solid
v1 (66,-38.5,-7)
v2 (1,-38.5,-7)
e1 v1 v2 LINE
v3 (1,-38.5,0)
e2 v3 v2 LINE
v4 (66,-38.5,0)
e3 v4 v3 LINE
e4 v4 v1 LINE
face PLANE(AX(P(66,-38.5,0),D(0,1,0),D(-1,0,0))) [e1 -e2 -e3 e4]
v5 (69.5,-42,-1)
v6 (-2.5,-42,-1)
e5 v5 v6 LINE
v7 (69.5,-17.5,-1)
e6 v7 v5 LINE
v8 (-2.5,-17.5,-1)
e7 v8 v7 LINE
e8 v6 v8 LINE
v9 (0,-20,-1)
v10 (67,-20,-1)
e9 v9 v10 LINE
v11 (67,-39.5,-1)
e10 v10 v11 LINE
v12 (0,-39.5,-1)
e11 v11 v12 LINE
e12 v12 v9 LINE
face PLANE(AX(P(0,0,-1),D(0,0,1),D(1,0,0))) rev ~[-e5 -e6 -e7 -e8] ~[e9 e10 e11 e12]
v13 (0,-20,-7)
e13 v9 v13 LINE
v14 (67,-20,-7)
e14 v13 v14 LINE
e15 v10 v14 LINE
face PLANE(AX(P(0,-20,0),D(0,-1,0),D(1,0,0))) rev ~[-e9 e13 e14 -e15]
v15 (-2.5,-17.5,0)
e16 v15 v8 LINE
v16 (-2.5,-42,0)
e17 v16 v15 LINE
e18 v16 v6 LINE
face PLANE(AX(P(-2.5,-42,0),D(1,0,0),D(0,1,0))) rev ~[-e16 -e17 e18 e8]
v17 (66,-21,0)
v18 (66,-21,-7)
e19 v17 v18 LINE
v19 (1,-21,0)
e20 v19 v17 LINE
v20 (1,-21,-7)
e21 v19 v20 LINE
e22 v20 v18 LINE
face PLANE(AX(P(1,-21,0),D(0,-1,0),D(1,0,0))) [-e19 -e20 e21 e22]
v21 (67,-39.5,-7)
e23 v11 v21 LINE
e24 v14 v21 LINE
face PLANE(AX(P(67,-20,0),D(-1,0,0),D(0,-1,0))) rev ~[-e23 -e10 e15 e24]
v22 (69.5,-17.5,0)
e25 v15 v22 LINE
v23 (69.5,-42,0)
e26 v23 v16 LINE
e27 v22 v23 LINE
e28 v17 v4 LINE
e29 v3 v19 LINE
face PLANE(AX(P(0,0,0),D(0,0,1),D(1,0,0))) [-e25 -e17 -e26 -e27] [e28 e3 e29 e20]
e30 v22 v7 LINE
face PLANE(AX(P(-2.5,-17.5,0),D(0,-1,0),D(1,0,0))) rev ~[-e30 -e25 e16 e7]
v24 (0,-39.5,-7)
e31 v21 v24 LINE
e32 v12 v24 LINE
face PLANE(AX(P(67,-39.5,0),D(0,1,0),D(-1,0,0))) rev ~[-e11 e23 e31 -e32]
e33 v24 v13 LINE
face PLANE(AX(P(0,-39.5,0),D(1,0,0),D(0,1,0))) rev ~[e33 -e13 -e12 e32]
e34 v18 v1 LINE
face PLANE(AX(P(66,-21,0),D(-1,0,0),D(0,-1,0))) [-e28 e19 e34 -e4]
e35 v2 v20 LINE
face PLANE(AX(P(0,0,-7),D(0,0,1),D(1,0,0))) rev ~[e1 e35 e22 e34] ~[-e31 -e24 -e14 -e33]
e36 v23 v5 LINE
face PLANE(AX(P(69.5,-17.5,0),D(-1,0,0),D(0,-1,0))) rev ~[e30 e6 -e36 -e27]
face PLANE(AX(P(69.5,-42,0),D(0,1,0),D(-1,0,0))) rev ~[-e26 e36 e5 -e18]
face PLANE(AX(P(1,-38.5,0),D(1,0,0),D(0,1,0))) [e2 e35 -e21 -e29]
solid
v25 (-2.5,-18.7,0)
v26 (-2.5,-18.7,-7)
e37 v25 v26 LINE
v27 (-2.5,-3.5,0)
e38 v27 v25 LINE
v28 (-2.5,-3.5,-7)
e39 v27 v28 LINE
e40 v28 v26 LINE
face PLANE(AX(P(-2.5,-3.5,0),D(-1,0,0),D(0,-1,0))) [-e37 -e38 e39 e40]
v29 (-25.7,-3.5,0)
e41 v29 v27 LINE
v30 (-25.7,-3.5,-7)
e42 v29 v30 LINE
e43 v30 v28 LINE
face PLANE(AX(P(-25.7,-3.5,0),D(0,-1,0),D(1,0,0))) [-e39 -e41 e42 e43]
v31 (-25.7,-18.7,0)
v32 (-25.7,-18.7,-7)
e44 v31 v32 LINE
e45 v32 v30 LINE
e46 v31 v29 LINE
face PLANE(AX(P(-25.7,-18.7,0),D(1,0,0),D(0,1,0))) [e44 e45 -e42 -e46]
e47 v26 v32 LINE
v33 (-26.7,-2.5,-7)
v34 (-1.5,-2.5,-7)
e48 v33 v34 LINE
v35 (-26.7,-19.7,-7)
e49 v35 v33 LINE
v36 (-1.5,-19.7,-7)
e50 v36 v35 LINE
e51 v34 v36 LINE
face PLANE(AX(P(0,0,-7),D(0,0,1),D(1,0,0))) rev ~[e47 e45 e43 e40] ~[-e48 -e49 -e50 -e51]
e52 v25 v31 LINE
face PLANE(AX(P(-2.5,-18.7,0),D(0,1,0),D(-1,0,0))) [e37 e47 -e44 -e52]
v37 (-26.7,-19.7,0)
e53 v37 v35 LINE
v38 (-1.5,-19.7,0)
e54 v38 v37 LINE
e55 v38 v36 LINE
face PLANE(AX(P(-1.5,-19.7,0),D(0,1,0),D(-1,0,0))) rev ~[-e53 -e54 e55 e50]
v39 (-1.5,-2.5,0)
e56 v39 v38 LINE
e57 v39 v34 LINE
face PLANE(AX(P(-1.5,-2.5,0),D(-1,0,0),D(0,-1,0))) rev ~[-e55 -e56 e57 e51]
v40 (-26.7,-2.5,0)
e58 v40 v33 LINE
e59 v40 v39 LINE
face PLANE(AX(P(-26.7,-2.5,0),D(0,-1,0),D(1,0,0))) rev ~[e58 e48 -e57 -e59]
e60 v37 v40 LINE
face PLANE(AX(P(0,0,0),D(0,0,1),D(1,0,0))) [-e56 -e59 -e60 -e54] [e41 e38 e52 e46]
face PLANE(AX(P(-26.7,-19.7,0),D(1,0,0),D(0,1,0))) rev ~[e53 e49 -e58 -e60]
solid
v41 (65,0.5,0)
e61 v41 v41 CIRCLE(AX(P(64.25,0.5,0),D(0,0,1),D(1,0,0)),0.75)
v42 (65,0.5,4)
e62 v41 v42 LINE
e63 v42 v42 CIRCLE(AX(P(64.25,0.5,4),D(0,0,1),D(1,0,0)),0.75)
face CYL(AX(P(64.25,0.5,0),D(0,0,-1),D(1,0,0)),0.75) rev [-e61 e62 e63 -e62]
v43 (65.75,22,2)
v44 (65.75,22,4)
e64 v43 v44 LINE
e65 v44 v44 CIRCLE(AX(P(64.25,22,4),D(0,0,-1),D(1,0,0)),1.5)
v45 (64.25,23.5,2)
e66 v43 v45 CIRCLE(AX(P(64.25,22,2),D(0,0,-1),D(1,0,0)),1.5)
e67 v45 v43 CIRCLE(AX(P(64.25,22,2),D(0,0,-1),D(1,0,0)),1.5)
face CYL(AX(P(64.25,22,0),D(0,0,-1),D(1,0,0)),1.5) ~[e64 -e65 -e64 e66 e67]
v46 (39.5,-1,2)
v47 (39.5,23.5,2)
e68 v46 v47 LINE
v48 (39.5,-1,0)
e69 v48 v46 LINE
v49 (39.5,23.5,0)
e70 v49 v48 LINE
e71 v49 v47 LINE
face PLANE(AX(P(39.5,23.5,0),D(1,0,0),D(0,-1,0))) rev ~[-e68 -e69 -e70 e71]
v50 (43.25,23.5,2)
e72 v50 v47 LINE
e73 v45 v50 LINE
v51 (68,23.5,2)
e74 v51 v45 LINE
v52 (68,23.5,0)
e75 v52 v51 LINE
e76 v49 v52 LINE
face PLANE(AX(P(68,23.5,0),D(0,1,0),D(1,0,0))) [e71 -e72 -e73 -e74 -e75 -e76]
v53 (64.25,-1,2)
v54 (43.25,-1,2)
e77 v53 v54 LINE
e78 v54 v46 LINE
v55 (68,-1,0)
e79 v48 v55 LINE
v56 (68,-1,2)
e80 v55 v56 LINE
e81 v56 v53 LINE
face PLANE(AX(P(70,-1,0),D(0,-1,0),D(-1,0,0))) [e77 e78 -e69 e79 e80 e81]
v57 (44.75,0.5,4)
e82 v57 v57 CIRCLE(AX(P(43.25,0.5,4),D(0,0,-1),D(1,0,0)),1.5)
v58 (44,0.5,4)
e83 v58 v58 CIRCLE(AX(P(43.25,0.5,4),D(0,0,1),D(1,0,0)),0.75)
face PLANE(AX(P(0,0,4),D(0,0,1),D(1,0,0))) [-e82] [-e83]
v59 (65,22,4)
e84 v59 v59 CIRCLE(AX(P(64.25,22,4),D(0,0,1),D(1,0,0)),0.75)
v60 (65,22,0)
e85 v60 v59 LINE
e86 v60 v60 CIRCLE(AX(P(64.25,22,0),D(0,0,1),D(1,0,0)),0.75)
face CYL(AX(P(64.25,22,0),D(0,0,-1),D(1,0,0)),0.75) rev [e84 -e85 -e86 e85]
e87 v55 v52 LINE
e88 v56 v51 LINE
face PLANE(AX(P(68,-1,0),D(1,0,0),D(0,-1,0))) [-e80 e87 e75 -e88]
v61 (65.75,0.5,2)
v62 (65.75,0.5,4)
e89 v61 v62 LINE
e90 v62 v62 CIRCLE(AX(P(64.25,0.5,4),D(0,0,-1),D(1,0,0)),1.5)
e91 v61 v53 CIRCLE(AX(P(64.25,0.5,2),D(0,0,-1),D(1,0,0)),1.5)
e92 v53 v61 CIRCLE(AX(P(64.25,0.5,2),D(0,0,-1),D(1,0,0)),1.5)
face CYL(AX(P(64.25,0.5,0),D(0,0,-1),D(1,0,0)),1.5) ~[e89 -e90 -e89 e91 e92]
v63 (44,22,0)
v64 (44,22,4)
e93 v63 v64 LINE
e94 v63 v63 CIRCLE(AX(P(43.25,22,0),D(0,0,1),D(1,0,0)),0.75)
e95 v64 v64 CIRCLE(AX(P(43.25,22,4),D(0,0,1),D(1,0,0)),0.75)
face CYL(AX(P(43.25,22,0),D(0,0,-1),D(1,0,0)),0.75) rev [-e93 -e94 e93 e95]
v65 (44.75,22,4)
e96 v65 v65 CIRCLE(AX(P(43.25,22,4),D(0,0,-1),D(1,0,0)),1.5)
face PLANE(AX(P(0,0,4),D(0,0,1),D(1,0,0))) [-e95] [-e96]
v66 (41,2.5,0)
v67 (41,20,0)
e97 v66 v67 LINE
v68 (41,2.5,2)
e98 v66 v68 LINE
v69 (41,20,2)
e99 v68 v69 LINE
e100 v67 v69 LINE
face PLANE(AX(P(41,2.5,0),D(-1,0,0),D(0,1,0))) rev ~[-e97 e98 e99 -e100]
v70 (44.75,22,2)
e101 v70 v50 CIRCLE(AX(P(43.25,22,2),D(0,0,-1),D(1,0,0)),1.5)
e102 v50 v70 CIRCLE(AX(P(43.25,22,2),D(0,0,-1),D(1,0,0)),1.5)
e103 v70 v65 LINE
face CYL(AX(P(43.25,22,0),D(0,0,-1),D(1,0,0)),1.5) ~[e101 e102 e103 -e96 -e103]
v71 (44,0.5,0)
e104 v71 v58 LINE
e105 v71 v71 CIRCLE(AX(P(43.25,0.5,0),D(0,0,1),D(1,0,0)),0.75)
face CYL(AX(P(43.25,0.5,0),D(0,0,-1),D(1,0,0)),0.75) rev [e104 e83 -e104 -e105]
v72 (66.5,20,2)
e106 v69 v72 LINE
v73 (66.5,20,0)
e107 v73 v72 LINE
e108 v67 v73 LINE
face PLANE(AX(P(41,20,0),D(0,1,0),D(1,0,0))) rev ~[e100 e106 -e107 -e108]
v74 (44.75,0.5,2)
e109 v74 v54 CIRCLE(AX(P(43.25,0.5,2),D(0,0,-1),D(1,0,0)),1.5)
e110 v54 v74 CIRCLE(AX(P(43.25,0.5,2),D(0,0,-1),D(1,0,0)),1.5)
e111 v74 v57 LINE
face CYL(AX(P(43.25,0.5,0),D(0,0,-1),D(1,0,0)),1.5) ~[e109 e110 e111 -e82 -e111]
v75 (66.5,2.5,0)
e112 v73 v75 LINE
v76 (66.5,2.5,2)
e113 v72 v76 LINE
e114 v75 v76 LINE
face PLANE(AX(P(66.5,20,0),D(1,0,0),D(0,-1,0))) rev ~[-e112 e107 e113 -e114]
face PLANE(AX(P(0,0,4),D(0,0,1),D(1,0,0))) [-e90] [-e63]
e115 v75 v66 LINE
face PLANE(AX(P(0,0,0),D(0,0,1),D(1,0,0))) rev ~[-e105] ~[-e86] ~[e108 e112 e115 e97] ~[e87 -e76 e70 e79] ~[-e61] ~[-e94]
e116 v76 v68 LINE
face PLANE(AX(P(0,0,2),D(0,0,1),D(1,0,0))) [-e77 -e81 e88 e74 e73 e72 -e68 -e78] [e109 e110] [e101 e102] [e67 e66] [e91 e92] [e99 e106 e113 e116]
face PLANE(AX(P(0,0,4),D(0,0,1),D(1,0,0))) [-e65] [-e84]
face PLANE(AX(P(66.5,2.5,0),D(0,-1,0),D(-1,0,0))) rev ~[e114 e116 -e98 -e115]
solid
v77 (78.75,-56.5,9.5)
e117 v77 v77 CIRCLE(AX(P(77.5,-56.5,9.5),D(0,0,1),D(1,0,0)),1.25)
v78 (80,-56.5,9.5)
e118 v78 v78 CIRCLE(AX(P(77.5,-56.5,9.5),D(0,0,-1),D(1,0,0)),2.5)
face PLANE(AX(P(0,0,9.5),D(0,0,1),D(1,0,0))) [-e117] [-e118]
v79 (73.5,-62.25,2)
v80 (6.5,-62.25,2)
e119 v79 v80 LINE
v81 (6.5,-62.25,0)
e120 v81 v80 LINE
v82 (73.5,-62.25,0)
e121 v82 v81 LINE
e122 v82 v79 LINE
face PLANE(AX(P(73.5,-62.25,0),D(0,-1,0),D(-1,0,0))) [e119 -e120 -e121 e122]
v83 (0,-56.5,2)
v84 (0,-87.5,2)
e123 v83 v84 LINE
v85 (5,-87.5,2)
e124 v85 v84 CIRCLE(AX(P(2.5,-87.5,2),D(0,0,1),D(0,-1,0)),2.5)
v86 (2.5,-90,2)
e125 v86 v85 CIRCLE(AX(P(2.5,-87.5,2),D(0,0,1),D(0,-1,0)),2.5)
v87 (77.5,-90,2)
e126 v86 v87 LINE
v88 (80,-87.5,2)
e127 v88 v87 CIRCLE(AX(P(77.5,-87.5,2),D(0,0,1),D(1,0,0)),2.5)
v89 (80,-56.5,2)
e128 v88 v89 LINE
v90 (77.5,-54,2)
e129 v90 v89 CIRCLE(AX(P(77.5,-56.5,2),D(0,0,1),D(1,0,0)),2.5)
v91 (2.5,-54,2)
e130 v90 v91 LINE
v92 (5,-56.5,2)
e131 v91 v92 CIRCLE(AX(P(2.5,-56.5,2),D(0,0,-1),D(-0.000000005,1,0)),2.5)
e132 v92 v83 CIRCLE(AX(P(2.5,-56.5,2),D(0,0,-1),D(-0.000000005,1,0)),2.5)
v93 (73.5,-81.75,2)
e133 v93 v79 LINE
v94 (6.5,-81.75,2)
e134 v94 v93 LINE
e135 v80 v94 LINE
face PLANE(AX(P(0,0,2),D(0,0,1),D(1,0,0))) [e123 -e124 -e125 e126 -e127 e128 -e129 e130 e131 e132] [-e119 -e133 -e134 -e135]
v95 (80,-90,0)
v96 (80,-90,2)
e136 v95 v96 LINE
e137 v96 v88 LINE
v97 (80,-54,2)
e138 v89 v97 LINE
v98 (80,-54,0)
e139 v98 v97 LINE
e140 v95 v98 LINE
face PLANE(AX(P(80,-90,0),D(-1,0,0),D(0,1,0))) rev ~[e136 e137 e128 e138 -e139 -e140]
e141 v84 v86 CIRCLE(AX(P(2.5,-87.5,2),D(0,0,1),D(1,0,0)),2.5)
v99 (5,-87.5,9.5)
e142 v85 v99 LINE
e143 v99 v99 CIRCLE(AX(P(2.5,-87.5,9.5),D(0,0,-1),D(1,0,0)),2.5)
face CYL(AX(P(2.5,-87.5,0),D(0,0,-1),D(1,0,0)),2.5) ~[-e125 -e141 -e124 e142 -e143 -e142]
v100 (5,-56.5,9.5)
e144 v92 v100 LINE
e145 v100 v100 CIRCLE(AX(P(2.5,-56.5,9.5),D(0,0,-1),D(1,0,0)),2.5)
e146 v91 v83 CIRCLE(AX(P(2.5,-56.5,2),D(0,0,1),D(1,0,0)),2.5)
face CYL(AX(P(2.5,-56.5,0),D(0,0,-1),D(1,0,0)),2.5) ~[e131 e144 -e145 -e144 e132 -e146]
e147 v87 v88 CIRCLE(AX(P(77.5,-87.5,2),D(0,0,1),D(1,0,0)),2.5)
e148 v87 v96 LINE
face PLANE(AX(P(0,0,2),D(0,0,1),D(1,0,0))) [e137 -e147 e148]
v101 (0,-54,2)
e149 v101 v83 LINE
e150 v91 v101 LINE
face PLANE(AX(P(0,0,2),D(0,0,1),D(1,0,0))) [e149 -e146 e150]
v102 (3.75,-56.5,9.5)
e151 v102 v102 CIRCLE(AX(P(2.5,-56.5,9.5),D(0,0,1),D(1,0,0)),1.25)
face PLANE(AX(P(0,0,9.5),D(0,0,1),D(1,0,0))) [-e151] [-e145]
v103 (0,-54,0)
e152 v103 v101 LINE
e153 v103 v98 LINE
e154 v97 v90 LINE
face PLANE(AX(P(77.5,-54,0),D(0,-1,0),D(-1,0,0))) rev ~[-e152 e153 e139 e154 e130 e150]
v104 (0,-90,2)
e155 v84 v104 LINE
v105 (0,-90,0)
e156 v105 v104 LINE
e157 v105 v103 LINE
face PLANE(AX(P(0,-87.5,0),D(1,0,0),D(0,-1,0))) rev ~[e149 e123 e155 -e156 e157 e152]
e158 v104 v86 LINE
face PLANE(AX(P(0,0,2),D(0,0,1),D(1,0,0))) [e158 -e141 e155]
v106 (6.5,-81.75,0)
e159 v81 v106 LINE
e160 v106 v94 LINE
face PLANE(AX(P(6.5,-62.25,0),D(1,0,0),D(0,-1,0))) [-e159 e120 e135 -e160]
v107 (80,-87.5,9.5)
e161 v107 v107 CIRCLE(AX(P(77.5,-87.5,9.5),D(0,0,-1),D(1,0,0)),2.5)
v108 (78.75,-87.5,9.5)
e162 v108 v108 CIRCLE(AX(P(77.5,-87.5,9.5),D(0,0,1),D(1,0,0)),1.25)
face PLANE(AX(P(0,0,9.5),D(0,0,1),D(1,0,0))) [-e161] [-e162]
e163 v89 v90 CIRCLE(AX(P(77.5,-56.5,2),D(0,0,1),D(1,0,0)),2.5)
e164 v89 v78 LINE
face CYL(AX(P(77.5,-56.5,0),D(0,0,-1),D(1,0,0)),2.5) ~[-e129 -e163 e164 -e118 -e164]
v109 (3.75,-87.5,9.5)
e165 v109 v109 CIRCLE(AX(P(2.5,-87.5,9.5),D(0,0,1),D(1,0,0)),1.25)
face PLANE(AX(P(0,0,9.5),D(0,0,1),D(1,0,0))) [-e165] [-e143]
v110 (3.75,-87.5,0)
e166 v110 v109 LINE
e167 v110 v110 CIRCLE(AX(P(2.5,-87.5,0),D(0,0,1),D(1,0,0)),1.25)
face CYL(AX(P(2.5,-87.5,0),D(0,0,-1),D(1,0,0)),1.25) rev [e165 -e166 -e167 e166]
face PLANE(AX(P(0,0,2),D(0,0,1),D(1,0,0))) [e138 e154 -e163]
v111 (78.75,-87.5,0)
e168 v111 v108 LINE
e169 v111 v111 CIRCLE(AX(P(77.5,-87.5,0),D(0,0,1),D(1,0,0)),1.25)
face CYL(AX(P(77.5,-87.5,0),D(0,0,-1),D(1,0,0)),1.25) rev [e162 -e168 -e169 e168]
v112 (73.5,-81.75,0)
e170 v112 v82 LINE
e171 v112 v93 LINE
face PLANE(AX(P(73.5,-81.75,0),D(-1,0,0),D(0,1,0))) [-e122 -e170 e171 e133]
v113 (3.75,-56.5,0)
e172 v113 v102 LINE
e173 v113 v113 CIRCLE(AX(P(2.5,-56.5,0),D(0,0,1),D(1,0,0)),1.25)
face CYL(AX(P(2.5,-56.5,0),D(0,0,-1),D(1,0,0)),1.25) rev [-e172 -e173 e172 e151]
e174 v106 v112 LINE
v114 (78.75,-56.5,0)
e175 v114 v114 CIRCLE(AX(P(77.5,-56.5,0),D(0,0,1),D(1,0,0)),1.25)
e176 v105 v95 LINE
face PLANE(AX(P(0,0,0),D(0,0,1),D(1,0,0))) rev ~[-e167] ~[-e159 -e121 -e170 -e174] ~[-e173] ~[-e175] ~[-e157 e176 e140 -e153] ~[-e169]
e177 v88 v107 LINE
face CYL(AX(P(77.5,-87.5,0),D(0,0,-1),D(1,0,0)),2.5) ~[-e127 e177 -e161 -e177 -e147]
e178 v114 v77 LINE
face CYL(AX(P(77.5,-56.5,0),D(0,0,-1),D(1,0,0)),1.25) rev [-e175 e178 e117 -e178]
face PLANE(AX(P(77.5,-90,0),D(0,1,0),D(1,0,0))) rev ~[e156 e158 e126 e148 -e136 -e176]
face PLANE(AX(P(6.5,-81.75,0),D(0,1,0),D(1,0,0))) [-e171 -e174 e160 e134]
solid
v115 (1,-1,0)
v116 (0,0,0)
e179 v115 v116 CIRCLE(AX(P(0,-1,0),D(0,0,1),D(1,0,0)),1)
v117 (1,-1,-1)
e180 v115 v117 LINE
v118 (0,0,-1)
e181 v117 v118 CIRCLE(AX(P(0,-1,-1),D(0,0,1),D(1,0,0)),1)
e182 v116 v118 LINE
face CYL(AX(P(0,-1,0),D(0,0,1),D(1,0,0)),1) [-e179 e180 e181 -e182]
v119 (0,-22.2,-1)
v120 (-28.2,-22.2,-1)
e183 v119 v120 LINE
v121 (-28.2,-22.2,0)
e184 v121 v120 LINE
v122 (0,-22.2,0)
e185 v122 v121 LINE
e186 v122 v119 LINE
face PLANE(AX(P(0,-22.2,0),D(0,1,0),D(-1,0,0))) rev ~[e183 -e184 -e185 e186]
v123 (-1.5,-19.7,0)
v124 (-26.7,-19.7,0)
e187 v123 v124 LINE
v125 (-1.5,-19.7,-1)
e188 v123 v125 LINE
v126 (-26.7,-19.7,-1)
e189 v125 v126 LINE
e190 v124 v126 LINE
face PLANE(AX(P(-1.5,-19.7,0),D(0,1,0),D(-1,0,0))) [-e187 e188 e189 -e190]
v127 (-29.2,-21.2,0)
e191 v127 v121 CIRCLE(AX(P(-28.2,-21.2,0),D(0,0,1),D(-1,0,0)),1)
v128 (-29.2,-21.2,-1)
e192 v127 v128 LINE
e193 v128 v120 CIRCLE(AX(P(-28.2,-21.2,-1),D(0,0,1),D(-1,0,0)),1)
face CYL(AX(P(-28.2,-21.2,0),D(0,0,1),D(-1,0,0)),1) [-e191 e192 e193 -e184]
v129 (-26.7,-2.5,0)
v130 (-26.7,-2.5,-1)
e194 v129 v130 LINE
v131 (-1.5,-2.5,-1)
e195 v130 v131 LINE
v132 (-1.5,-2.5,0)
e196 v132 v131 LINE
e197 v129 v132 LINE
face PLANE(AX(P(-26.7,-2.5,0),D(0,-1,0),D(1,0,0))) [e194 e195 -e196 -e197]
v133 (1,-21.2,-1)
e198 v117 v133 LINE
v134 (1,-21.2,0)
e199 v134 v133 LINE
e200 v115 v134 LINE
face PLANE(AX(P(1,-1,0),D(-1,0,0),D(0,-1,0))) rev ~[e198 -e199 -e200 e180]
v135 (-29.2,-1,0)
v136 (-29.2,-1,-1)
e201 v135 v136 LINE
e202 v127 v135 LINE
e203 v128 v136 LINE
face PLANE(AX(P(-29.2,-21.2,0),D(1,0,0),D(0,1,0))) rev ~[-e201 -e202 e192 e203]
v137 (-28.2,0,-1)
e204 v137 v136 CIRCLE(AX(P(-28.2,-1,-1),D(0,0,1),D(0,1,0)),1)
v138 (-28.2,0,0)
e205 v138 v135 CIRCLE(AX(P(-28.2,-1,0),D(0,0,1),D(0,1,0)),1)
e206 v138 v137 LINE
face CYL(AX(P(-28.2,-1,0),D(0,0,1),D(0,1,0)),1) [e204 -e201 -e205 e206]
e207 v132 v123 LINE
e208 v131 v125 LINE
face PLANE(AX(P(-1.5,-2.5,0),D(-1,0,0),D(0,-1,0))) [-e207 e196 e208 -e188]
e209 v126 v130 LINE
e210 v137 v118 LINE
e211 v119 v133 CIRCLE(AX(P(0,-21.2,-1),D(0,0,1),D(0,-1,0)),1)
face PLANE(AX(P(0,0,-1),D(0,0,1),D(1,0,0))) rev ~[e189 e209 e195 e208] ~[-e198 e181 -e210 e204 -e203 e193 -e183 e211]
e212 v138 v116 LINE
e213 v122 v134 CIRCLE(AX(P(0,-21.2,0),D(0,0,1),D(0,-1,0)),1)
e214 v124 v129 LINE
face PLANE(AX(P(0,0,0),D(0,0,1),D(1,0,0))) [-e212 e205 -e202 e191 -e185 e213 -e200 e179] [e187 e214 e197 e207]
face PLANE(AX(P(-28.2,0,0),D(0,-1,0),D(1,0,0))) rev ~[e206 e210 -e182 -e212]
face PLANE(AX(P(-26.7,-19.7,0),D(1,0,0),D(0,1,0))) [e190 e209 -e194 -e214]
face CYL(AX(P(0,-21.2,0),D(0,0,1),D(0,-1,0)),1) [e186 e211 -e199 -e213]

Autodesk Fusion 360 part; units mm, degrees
sketch "Sketch1" plane through (0, 0, 0) normal (0, 0, 1) x (1, 0, 0)
  line L0 (-26.7, -2.5) -> (-1.5, -2.5)
  line L1 (-1.5, -2.5) -> (-1.5, -19.7)
  line L2 (-1.5, -19.7) -> (-26.7, -19.7)
  line L3 (-26.7, -19.7) -> (-26.7, -2.5)
  line L4 (-2.5, -18.7) -> (-25.7, -18.7)
  line L5 (-25.7, -18.7) -> (-25.7, -3.5)
  line L6 (-25.7, -3.5) -> (-2.5, -3.5)
  line L7 (-2.5, -3.5) -> (-2.5, -18.7)
  line L8 (-29.2, -21.2) -> (-29.2, -1)
  line L9 (-28.2, 0) -> (0, 0)
  line L10 (1, -1) -> (1, -21.2)
  line L11 (0, -22.2) -> (-28.2, -22.2)
  arc A0 (1, -1) -> (0, 0) centre (0, -1) ccw
  arc A1 (0, -22.2) -> (1, -21.2) centre (0, -21.2) ccw
  arc A2 (-28.2, 0) -> (-29.2, -1) centre (-28.2, -1) ccw
  arc A3 (-29.2, -21.2) -> (-28.2, -22.2) centre (-28.2, -21.2) ccw
  dimension "d1" = 25.2
  dimension "d2" = 17.2
  dimension "d3" = 1
  dimension "d36" = 1
  dimension "d37" = 1
  dimension "d50" = 2.5
  dimension "d51" = 2.5
  dimension "d52" = 2.5
  dimension "d53" = 2.5
extrude "Extrude1" add sketch "Sketch1" against normal blind 7 contours L0 L1 L2 L3 makes body 1
extrude "Extrude2" add sketch "Sketch1" against normal blind 1 separate body contours L8 L9 L10 L11 A0 A1 A2 A3 makes body 2
sketch "Sketch2" plane through (0, 0, 0) normal (0, 0, 1) x (1, 0, 0)
  line L0 (41, 20) -> (66.5, 20)
  line L1 (66.5, 20) -> (66.5, 2.5)
  line L2 (66.5, 2.5) -> (41, 2.5)
  line L3 (41, 2.5) -> (41, 20)
  line L4 (70, -1) -> (37.5, -1)
  line L5 (37.5, -1) -> (37.5, 23.5)
  line L6 (37.5, 23.5) -> (70, 23.5)
  line L7 (70, 23.5) -> (70, -1)
  line L8 (37.5, 23.5) -> (39.5, 23.5)
  line L9 (39.5, 23.5) -> (39.5, -4.9544)
  line L10 (39.5, -4.9544) -> (37.5, -4.9544)
  line L11 (37.5, -4.9544) -> (37.5, 23.5)
  line L12 (70, 23.5) -> (68, 23.5)
  line L13 (68, 23.5) -> (68, -5.1657)
  line L14 (68, -5.1657) -> (70, -5.1657)
  line L15 (70, -5.1657) -> (70, 23.5)
  line L16 (40, 22) -> (66, 22) construction
  line L17 (40, 0.5) -> (65.989, 0.5) construction
  line L18 (43.25, -1.847) -> (43.25, 22.398) construction
  line L19 (64.25, 22.5565) -> (64.25, -1.9527) construction
  circle A0 centre (43.25, 22) radius 1.5
  circle A1 centre (64.25, 22) radius 1.5
  circle A2 centre (64.25, 0.5) radius 1.5
  circle A3 centre (43.25, 0.5) radius 1.5
  circle A4 centre (43.25, 22) radius 0.75
  circle A5 centre (64.25, 22) radius 0.75
  circle A6 centre (43.25, 0.5) radius 0.75
  circle A7 centre (64.25, 0.5) radius 0.75
  dimension "d9" = 25.5
  dimension "d10" = 17.5
  dimension "d11" = -3.5
  dimension "d14" = 2
  dimension "d15" = 2
  dimension "d20" = 2
  dimension "d21" = 2
  dimension "d22" = 2.25
  dimension "d23" = 2.25
  dimension "d24" = 3
  dimension "d25" = 3
  dimension "d26" = 3
  dimension "d27" = 3
  dimension "d38" = 1.5
  dimension "d39" = 1.5
  dimension "d40" = 1.5
  dimension "d41" = 1.5
extrude "Extrude3" add sketch "Sketch2" along normal blind 2 separate body contours L4 L6 L7 L12 L13 L15 | A1 | A0 | A3 | A2 | L4 L6 L9 L13 | L4 L5 L6 L8 L9 L11 | A4 | A5 | A6 | A7 makes body 3
extrude "Extrude4" cut sketch "Sketch2" along normal blind 6 contours L4 L5 L6 L8 L9 L11 bodies 3
extrude "Extrude5" cut sketch "Sketch2" along normal blind 6 contours L4 L13 L14 L15 | L4 L6 L7 L12 L13 L15 bodies 3
extrude "Extrude6" add sketch "Sketch2" along normal blind 4 contours A3 | A6 bodies 3
extrude "Extrude7" add sketch "Sketch2" along normal blind 4 contours A2 | A7 bodies 3
extrude "Extrude8" add sketch "Sketch2" along normal blind 4 contours A0 | A4 bodies 3
extrude "Extrude9" add sketch "Sketch2" along normal blind 4 contours A1 | A5 bodies 3
extrude "Extrude10" cut sketch "Sketch2" along normal blind 4 contours A6 bodies 3
extrude "Extrude11" cut sketch "Sketch2" along normal blind 4 contours A7 bodies 3
extrude "Extrude12" cut sketch "Sketch2" along normal blind 4 contours A4 bodies 3
extrude "Extrude13" cut sketch "Sketch2" along normal blind 4 contours A5 bodies 3
sketch "Sketch3" plane through (0, 0, 0) normal (0, 0, 1) x (1, 0, 0)
  line L0 (0, -20) -> (67, -20)
  line L1 (67, -20) -> (67, -39.5)
  line L2 (67, -39.5) -> (0, -39.5)
  line L3 (0, -39.5) -> (0, -20)
  line L4 (66, -38.5) -> (1, -38.5)
  line L5 (1, -38.5) -> (1, -21)
  line L6 (1, -21) -> (66, -21)
  line L7 (66, -21) -> (66, -38.5)
  line L8 (69.5, -42) -> (-2.5, -42)
  line L9 (-2.5, -42) -> (-2.5, -17.5)
  line L10 (-2.5, -17.5) -> (69.5, -17.5)
  line L11 (69.5, -17.5) -> (69.5, -42)
  dimension "d54" = 67
  dimension "d55" = 19.5
  dimension "d56" = 1
  dimension "d57" = -2.5
extrude "Extrude14" add sketch "Sketch3" against normal blind 7 separate body contours L0 L1 L2 L3 makes body 4
extrude "Extrude15" add sketch "Sketch3" against normal blind 1 contours L8 L9 L10 L11 bodies 4
sketch "Sketch5" plane through (0, 0, 0) normal (0, 0, 1) x (1, 0, 0)
  line L0 (0, -90) -> (80, -90)
  line L1 (80, -90) -> (80, -54)
  line L2 (80, -54) -> (0, -54)
  line L3 (0, -54) -> (0, -90)
  line L4 (6.5, -81.75) -> (73.5, -81.75)
  line L5 (73.5, -81.75) -> (73.5, -62.25)
  line L6 (73.5, -62.25) -> (6.5, -62.25)
  line L7 (6.5, -62.25) -> (6.5, -81.75)
  line L8 (0, -87.5) -> (80, -87.5) construction
  line L9 (0, -56.5) -> (80, -56.5) construction
  line L10 (2.5, -90) -> (2.5, -54) construction
  line L11 (77.5, -90) -> (77.5, -54) construction
  circle A0 centre (2.5, -87.5) radius 2.5
  circle A1 centre (77.5, -87.5) radius 2.5
  circle A2 centre (2.5, -56.5) radius 2.5
  circle A3 centre (77.5, -56.5) radius 2.5
  circle A4 centre (2.5, -87.5) radius 1.25
  circle A5 centre (77.5, -87.5) radius 1.25
  circle A6 centre (2.5, -56.5) radius 1.25
  circle A7 centre (77.5, -56.5) radius 1.25
  dimension "d62" = 80
  dimension "d63" = 36
  dimension "d64" = 67
  dimension "d65" = 19.5
  dimension "d66" = 6.5
  dimension "d67" = 8.25
  dimension "d68" = 31
  dimension "d69" = 2.5
  dimension "d70" = 75
  dimension "d71" = 2.5
  dimension "d72" = 5
  dimension "d73" = 5
  dimension "d74" = 5
  dimension "d75" = 5
  dimension "d76" = 2.5
  dimension "d77" = 2.5
  dimension "d78" = 2.5
  dimension "d79" = 2.5
extrude "Extrude16" add sketch "Sketch5" along normal blind 2 separate body contours L0 L3 A0 | L0 L1 L2 L3 A0 A1 A2 A3 | L0 L1 A1 | L2 L3 A2 | L1 L2 A3 makes body 5 at (51.1667, -85.7467, 0)
extrude "Extrude17" add sketch "Sketch5" along normal blind 9.5 contours A0 | A1 | A2 | A3 bodies 5
